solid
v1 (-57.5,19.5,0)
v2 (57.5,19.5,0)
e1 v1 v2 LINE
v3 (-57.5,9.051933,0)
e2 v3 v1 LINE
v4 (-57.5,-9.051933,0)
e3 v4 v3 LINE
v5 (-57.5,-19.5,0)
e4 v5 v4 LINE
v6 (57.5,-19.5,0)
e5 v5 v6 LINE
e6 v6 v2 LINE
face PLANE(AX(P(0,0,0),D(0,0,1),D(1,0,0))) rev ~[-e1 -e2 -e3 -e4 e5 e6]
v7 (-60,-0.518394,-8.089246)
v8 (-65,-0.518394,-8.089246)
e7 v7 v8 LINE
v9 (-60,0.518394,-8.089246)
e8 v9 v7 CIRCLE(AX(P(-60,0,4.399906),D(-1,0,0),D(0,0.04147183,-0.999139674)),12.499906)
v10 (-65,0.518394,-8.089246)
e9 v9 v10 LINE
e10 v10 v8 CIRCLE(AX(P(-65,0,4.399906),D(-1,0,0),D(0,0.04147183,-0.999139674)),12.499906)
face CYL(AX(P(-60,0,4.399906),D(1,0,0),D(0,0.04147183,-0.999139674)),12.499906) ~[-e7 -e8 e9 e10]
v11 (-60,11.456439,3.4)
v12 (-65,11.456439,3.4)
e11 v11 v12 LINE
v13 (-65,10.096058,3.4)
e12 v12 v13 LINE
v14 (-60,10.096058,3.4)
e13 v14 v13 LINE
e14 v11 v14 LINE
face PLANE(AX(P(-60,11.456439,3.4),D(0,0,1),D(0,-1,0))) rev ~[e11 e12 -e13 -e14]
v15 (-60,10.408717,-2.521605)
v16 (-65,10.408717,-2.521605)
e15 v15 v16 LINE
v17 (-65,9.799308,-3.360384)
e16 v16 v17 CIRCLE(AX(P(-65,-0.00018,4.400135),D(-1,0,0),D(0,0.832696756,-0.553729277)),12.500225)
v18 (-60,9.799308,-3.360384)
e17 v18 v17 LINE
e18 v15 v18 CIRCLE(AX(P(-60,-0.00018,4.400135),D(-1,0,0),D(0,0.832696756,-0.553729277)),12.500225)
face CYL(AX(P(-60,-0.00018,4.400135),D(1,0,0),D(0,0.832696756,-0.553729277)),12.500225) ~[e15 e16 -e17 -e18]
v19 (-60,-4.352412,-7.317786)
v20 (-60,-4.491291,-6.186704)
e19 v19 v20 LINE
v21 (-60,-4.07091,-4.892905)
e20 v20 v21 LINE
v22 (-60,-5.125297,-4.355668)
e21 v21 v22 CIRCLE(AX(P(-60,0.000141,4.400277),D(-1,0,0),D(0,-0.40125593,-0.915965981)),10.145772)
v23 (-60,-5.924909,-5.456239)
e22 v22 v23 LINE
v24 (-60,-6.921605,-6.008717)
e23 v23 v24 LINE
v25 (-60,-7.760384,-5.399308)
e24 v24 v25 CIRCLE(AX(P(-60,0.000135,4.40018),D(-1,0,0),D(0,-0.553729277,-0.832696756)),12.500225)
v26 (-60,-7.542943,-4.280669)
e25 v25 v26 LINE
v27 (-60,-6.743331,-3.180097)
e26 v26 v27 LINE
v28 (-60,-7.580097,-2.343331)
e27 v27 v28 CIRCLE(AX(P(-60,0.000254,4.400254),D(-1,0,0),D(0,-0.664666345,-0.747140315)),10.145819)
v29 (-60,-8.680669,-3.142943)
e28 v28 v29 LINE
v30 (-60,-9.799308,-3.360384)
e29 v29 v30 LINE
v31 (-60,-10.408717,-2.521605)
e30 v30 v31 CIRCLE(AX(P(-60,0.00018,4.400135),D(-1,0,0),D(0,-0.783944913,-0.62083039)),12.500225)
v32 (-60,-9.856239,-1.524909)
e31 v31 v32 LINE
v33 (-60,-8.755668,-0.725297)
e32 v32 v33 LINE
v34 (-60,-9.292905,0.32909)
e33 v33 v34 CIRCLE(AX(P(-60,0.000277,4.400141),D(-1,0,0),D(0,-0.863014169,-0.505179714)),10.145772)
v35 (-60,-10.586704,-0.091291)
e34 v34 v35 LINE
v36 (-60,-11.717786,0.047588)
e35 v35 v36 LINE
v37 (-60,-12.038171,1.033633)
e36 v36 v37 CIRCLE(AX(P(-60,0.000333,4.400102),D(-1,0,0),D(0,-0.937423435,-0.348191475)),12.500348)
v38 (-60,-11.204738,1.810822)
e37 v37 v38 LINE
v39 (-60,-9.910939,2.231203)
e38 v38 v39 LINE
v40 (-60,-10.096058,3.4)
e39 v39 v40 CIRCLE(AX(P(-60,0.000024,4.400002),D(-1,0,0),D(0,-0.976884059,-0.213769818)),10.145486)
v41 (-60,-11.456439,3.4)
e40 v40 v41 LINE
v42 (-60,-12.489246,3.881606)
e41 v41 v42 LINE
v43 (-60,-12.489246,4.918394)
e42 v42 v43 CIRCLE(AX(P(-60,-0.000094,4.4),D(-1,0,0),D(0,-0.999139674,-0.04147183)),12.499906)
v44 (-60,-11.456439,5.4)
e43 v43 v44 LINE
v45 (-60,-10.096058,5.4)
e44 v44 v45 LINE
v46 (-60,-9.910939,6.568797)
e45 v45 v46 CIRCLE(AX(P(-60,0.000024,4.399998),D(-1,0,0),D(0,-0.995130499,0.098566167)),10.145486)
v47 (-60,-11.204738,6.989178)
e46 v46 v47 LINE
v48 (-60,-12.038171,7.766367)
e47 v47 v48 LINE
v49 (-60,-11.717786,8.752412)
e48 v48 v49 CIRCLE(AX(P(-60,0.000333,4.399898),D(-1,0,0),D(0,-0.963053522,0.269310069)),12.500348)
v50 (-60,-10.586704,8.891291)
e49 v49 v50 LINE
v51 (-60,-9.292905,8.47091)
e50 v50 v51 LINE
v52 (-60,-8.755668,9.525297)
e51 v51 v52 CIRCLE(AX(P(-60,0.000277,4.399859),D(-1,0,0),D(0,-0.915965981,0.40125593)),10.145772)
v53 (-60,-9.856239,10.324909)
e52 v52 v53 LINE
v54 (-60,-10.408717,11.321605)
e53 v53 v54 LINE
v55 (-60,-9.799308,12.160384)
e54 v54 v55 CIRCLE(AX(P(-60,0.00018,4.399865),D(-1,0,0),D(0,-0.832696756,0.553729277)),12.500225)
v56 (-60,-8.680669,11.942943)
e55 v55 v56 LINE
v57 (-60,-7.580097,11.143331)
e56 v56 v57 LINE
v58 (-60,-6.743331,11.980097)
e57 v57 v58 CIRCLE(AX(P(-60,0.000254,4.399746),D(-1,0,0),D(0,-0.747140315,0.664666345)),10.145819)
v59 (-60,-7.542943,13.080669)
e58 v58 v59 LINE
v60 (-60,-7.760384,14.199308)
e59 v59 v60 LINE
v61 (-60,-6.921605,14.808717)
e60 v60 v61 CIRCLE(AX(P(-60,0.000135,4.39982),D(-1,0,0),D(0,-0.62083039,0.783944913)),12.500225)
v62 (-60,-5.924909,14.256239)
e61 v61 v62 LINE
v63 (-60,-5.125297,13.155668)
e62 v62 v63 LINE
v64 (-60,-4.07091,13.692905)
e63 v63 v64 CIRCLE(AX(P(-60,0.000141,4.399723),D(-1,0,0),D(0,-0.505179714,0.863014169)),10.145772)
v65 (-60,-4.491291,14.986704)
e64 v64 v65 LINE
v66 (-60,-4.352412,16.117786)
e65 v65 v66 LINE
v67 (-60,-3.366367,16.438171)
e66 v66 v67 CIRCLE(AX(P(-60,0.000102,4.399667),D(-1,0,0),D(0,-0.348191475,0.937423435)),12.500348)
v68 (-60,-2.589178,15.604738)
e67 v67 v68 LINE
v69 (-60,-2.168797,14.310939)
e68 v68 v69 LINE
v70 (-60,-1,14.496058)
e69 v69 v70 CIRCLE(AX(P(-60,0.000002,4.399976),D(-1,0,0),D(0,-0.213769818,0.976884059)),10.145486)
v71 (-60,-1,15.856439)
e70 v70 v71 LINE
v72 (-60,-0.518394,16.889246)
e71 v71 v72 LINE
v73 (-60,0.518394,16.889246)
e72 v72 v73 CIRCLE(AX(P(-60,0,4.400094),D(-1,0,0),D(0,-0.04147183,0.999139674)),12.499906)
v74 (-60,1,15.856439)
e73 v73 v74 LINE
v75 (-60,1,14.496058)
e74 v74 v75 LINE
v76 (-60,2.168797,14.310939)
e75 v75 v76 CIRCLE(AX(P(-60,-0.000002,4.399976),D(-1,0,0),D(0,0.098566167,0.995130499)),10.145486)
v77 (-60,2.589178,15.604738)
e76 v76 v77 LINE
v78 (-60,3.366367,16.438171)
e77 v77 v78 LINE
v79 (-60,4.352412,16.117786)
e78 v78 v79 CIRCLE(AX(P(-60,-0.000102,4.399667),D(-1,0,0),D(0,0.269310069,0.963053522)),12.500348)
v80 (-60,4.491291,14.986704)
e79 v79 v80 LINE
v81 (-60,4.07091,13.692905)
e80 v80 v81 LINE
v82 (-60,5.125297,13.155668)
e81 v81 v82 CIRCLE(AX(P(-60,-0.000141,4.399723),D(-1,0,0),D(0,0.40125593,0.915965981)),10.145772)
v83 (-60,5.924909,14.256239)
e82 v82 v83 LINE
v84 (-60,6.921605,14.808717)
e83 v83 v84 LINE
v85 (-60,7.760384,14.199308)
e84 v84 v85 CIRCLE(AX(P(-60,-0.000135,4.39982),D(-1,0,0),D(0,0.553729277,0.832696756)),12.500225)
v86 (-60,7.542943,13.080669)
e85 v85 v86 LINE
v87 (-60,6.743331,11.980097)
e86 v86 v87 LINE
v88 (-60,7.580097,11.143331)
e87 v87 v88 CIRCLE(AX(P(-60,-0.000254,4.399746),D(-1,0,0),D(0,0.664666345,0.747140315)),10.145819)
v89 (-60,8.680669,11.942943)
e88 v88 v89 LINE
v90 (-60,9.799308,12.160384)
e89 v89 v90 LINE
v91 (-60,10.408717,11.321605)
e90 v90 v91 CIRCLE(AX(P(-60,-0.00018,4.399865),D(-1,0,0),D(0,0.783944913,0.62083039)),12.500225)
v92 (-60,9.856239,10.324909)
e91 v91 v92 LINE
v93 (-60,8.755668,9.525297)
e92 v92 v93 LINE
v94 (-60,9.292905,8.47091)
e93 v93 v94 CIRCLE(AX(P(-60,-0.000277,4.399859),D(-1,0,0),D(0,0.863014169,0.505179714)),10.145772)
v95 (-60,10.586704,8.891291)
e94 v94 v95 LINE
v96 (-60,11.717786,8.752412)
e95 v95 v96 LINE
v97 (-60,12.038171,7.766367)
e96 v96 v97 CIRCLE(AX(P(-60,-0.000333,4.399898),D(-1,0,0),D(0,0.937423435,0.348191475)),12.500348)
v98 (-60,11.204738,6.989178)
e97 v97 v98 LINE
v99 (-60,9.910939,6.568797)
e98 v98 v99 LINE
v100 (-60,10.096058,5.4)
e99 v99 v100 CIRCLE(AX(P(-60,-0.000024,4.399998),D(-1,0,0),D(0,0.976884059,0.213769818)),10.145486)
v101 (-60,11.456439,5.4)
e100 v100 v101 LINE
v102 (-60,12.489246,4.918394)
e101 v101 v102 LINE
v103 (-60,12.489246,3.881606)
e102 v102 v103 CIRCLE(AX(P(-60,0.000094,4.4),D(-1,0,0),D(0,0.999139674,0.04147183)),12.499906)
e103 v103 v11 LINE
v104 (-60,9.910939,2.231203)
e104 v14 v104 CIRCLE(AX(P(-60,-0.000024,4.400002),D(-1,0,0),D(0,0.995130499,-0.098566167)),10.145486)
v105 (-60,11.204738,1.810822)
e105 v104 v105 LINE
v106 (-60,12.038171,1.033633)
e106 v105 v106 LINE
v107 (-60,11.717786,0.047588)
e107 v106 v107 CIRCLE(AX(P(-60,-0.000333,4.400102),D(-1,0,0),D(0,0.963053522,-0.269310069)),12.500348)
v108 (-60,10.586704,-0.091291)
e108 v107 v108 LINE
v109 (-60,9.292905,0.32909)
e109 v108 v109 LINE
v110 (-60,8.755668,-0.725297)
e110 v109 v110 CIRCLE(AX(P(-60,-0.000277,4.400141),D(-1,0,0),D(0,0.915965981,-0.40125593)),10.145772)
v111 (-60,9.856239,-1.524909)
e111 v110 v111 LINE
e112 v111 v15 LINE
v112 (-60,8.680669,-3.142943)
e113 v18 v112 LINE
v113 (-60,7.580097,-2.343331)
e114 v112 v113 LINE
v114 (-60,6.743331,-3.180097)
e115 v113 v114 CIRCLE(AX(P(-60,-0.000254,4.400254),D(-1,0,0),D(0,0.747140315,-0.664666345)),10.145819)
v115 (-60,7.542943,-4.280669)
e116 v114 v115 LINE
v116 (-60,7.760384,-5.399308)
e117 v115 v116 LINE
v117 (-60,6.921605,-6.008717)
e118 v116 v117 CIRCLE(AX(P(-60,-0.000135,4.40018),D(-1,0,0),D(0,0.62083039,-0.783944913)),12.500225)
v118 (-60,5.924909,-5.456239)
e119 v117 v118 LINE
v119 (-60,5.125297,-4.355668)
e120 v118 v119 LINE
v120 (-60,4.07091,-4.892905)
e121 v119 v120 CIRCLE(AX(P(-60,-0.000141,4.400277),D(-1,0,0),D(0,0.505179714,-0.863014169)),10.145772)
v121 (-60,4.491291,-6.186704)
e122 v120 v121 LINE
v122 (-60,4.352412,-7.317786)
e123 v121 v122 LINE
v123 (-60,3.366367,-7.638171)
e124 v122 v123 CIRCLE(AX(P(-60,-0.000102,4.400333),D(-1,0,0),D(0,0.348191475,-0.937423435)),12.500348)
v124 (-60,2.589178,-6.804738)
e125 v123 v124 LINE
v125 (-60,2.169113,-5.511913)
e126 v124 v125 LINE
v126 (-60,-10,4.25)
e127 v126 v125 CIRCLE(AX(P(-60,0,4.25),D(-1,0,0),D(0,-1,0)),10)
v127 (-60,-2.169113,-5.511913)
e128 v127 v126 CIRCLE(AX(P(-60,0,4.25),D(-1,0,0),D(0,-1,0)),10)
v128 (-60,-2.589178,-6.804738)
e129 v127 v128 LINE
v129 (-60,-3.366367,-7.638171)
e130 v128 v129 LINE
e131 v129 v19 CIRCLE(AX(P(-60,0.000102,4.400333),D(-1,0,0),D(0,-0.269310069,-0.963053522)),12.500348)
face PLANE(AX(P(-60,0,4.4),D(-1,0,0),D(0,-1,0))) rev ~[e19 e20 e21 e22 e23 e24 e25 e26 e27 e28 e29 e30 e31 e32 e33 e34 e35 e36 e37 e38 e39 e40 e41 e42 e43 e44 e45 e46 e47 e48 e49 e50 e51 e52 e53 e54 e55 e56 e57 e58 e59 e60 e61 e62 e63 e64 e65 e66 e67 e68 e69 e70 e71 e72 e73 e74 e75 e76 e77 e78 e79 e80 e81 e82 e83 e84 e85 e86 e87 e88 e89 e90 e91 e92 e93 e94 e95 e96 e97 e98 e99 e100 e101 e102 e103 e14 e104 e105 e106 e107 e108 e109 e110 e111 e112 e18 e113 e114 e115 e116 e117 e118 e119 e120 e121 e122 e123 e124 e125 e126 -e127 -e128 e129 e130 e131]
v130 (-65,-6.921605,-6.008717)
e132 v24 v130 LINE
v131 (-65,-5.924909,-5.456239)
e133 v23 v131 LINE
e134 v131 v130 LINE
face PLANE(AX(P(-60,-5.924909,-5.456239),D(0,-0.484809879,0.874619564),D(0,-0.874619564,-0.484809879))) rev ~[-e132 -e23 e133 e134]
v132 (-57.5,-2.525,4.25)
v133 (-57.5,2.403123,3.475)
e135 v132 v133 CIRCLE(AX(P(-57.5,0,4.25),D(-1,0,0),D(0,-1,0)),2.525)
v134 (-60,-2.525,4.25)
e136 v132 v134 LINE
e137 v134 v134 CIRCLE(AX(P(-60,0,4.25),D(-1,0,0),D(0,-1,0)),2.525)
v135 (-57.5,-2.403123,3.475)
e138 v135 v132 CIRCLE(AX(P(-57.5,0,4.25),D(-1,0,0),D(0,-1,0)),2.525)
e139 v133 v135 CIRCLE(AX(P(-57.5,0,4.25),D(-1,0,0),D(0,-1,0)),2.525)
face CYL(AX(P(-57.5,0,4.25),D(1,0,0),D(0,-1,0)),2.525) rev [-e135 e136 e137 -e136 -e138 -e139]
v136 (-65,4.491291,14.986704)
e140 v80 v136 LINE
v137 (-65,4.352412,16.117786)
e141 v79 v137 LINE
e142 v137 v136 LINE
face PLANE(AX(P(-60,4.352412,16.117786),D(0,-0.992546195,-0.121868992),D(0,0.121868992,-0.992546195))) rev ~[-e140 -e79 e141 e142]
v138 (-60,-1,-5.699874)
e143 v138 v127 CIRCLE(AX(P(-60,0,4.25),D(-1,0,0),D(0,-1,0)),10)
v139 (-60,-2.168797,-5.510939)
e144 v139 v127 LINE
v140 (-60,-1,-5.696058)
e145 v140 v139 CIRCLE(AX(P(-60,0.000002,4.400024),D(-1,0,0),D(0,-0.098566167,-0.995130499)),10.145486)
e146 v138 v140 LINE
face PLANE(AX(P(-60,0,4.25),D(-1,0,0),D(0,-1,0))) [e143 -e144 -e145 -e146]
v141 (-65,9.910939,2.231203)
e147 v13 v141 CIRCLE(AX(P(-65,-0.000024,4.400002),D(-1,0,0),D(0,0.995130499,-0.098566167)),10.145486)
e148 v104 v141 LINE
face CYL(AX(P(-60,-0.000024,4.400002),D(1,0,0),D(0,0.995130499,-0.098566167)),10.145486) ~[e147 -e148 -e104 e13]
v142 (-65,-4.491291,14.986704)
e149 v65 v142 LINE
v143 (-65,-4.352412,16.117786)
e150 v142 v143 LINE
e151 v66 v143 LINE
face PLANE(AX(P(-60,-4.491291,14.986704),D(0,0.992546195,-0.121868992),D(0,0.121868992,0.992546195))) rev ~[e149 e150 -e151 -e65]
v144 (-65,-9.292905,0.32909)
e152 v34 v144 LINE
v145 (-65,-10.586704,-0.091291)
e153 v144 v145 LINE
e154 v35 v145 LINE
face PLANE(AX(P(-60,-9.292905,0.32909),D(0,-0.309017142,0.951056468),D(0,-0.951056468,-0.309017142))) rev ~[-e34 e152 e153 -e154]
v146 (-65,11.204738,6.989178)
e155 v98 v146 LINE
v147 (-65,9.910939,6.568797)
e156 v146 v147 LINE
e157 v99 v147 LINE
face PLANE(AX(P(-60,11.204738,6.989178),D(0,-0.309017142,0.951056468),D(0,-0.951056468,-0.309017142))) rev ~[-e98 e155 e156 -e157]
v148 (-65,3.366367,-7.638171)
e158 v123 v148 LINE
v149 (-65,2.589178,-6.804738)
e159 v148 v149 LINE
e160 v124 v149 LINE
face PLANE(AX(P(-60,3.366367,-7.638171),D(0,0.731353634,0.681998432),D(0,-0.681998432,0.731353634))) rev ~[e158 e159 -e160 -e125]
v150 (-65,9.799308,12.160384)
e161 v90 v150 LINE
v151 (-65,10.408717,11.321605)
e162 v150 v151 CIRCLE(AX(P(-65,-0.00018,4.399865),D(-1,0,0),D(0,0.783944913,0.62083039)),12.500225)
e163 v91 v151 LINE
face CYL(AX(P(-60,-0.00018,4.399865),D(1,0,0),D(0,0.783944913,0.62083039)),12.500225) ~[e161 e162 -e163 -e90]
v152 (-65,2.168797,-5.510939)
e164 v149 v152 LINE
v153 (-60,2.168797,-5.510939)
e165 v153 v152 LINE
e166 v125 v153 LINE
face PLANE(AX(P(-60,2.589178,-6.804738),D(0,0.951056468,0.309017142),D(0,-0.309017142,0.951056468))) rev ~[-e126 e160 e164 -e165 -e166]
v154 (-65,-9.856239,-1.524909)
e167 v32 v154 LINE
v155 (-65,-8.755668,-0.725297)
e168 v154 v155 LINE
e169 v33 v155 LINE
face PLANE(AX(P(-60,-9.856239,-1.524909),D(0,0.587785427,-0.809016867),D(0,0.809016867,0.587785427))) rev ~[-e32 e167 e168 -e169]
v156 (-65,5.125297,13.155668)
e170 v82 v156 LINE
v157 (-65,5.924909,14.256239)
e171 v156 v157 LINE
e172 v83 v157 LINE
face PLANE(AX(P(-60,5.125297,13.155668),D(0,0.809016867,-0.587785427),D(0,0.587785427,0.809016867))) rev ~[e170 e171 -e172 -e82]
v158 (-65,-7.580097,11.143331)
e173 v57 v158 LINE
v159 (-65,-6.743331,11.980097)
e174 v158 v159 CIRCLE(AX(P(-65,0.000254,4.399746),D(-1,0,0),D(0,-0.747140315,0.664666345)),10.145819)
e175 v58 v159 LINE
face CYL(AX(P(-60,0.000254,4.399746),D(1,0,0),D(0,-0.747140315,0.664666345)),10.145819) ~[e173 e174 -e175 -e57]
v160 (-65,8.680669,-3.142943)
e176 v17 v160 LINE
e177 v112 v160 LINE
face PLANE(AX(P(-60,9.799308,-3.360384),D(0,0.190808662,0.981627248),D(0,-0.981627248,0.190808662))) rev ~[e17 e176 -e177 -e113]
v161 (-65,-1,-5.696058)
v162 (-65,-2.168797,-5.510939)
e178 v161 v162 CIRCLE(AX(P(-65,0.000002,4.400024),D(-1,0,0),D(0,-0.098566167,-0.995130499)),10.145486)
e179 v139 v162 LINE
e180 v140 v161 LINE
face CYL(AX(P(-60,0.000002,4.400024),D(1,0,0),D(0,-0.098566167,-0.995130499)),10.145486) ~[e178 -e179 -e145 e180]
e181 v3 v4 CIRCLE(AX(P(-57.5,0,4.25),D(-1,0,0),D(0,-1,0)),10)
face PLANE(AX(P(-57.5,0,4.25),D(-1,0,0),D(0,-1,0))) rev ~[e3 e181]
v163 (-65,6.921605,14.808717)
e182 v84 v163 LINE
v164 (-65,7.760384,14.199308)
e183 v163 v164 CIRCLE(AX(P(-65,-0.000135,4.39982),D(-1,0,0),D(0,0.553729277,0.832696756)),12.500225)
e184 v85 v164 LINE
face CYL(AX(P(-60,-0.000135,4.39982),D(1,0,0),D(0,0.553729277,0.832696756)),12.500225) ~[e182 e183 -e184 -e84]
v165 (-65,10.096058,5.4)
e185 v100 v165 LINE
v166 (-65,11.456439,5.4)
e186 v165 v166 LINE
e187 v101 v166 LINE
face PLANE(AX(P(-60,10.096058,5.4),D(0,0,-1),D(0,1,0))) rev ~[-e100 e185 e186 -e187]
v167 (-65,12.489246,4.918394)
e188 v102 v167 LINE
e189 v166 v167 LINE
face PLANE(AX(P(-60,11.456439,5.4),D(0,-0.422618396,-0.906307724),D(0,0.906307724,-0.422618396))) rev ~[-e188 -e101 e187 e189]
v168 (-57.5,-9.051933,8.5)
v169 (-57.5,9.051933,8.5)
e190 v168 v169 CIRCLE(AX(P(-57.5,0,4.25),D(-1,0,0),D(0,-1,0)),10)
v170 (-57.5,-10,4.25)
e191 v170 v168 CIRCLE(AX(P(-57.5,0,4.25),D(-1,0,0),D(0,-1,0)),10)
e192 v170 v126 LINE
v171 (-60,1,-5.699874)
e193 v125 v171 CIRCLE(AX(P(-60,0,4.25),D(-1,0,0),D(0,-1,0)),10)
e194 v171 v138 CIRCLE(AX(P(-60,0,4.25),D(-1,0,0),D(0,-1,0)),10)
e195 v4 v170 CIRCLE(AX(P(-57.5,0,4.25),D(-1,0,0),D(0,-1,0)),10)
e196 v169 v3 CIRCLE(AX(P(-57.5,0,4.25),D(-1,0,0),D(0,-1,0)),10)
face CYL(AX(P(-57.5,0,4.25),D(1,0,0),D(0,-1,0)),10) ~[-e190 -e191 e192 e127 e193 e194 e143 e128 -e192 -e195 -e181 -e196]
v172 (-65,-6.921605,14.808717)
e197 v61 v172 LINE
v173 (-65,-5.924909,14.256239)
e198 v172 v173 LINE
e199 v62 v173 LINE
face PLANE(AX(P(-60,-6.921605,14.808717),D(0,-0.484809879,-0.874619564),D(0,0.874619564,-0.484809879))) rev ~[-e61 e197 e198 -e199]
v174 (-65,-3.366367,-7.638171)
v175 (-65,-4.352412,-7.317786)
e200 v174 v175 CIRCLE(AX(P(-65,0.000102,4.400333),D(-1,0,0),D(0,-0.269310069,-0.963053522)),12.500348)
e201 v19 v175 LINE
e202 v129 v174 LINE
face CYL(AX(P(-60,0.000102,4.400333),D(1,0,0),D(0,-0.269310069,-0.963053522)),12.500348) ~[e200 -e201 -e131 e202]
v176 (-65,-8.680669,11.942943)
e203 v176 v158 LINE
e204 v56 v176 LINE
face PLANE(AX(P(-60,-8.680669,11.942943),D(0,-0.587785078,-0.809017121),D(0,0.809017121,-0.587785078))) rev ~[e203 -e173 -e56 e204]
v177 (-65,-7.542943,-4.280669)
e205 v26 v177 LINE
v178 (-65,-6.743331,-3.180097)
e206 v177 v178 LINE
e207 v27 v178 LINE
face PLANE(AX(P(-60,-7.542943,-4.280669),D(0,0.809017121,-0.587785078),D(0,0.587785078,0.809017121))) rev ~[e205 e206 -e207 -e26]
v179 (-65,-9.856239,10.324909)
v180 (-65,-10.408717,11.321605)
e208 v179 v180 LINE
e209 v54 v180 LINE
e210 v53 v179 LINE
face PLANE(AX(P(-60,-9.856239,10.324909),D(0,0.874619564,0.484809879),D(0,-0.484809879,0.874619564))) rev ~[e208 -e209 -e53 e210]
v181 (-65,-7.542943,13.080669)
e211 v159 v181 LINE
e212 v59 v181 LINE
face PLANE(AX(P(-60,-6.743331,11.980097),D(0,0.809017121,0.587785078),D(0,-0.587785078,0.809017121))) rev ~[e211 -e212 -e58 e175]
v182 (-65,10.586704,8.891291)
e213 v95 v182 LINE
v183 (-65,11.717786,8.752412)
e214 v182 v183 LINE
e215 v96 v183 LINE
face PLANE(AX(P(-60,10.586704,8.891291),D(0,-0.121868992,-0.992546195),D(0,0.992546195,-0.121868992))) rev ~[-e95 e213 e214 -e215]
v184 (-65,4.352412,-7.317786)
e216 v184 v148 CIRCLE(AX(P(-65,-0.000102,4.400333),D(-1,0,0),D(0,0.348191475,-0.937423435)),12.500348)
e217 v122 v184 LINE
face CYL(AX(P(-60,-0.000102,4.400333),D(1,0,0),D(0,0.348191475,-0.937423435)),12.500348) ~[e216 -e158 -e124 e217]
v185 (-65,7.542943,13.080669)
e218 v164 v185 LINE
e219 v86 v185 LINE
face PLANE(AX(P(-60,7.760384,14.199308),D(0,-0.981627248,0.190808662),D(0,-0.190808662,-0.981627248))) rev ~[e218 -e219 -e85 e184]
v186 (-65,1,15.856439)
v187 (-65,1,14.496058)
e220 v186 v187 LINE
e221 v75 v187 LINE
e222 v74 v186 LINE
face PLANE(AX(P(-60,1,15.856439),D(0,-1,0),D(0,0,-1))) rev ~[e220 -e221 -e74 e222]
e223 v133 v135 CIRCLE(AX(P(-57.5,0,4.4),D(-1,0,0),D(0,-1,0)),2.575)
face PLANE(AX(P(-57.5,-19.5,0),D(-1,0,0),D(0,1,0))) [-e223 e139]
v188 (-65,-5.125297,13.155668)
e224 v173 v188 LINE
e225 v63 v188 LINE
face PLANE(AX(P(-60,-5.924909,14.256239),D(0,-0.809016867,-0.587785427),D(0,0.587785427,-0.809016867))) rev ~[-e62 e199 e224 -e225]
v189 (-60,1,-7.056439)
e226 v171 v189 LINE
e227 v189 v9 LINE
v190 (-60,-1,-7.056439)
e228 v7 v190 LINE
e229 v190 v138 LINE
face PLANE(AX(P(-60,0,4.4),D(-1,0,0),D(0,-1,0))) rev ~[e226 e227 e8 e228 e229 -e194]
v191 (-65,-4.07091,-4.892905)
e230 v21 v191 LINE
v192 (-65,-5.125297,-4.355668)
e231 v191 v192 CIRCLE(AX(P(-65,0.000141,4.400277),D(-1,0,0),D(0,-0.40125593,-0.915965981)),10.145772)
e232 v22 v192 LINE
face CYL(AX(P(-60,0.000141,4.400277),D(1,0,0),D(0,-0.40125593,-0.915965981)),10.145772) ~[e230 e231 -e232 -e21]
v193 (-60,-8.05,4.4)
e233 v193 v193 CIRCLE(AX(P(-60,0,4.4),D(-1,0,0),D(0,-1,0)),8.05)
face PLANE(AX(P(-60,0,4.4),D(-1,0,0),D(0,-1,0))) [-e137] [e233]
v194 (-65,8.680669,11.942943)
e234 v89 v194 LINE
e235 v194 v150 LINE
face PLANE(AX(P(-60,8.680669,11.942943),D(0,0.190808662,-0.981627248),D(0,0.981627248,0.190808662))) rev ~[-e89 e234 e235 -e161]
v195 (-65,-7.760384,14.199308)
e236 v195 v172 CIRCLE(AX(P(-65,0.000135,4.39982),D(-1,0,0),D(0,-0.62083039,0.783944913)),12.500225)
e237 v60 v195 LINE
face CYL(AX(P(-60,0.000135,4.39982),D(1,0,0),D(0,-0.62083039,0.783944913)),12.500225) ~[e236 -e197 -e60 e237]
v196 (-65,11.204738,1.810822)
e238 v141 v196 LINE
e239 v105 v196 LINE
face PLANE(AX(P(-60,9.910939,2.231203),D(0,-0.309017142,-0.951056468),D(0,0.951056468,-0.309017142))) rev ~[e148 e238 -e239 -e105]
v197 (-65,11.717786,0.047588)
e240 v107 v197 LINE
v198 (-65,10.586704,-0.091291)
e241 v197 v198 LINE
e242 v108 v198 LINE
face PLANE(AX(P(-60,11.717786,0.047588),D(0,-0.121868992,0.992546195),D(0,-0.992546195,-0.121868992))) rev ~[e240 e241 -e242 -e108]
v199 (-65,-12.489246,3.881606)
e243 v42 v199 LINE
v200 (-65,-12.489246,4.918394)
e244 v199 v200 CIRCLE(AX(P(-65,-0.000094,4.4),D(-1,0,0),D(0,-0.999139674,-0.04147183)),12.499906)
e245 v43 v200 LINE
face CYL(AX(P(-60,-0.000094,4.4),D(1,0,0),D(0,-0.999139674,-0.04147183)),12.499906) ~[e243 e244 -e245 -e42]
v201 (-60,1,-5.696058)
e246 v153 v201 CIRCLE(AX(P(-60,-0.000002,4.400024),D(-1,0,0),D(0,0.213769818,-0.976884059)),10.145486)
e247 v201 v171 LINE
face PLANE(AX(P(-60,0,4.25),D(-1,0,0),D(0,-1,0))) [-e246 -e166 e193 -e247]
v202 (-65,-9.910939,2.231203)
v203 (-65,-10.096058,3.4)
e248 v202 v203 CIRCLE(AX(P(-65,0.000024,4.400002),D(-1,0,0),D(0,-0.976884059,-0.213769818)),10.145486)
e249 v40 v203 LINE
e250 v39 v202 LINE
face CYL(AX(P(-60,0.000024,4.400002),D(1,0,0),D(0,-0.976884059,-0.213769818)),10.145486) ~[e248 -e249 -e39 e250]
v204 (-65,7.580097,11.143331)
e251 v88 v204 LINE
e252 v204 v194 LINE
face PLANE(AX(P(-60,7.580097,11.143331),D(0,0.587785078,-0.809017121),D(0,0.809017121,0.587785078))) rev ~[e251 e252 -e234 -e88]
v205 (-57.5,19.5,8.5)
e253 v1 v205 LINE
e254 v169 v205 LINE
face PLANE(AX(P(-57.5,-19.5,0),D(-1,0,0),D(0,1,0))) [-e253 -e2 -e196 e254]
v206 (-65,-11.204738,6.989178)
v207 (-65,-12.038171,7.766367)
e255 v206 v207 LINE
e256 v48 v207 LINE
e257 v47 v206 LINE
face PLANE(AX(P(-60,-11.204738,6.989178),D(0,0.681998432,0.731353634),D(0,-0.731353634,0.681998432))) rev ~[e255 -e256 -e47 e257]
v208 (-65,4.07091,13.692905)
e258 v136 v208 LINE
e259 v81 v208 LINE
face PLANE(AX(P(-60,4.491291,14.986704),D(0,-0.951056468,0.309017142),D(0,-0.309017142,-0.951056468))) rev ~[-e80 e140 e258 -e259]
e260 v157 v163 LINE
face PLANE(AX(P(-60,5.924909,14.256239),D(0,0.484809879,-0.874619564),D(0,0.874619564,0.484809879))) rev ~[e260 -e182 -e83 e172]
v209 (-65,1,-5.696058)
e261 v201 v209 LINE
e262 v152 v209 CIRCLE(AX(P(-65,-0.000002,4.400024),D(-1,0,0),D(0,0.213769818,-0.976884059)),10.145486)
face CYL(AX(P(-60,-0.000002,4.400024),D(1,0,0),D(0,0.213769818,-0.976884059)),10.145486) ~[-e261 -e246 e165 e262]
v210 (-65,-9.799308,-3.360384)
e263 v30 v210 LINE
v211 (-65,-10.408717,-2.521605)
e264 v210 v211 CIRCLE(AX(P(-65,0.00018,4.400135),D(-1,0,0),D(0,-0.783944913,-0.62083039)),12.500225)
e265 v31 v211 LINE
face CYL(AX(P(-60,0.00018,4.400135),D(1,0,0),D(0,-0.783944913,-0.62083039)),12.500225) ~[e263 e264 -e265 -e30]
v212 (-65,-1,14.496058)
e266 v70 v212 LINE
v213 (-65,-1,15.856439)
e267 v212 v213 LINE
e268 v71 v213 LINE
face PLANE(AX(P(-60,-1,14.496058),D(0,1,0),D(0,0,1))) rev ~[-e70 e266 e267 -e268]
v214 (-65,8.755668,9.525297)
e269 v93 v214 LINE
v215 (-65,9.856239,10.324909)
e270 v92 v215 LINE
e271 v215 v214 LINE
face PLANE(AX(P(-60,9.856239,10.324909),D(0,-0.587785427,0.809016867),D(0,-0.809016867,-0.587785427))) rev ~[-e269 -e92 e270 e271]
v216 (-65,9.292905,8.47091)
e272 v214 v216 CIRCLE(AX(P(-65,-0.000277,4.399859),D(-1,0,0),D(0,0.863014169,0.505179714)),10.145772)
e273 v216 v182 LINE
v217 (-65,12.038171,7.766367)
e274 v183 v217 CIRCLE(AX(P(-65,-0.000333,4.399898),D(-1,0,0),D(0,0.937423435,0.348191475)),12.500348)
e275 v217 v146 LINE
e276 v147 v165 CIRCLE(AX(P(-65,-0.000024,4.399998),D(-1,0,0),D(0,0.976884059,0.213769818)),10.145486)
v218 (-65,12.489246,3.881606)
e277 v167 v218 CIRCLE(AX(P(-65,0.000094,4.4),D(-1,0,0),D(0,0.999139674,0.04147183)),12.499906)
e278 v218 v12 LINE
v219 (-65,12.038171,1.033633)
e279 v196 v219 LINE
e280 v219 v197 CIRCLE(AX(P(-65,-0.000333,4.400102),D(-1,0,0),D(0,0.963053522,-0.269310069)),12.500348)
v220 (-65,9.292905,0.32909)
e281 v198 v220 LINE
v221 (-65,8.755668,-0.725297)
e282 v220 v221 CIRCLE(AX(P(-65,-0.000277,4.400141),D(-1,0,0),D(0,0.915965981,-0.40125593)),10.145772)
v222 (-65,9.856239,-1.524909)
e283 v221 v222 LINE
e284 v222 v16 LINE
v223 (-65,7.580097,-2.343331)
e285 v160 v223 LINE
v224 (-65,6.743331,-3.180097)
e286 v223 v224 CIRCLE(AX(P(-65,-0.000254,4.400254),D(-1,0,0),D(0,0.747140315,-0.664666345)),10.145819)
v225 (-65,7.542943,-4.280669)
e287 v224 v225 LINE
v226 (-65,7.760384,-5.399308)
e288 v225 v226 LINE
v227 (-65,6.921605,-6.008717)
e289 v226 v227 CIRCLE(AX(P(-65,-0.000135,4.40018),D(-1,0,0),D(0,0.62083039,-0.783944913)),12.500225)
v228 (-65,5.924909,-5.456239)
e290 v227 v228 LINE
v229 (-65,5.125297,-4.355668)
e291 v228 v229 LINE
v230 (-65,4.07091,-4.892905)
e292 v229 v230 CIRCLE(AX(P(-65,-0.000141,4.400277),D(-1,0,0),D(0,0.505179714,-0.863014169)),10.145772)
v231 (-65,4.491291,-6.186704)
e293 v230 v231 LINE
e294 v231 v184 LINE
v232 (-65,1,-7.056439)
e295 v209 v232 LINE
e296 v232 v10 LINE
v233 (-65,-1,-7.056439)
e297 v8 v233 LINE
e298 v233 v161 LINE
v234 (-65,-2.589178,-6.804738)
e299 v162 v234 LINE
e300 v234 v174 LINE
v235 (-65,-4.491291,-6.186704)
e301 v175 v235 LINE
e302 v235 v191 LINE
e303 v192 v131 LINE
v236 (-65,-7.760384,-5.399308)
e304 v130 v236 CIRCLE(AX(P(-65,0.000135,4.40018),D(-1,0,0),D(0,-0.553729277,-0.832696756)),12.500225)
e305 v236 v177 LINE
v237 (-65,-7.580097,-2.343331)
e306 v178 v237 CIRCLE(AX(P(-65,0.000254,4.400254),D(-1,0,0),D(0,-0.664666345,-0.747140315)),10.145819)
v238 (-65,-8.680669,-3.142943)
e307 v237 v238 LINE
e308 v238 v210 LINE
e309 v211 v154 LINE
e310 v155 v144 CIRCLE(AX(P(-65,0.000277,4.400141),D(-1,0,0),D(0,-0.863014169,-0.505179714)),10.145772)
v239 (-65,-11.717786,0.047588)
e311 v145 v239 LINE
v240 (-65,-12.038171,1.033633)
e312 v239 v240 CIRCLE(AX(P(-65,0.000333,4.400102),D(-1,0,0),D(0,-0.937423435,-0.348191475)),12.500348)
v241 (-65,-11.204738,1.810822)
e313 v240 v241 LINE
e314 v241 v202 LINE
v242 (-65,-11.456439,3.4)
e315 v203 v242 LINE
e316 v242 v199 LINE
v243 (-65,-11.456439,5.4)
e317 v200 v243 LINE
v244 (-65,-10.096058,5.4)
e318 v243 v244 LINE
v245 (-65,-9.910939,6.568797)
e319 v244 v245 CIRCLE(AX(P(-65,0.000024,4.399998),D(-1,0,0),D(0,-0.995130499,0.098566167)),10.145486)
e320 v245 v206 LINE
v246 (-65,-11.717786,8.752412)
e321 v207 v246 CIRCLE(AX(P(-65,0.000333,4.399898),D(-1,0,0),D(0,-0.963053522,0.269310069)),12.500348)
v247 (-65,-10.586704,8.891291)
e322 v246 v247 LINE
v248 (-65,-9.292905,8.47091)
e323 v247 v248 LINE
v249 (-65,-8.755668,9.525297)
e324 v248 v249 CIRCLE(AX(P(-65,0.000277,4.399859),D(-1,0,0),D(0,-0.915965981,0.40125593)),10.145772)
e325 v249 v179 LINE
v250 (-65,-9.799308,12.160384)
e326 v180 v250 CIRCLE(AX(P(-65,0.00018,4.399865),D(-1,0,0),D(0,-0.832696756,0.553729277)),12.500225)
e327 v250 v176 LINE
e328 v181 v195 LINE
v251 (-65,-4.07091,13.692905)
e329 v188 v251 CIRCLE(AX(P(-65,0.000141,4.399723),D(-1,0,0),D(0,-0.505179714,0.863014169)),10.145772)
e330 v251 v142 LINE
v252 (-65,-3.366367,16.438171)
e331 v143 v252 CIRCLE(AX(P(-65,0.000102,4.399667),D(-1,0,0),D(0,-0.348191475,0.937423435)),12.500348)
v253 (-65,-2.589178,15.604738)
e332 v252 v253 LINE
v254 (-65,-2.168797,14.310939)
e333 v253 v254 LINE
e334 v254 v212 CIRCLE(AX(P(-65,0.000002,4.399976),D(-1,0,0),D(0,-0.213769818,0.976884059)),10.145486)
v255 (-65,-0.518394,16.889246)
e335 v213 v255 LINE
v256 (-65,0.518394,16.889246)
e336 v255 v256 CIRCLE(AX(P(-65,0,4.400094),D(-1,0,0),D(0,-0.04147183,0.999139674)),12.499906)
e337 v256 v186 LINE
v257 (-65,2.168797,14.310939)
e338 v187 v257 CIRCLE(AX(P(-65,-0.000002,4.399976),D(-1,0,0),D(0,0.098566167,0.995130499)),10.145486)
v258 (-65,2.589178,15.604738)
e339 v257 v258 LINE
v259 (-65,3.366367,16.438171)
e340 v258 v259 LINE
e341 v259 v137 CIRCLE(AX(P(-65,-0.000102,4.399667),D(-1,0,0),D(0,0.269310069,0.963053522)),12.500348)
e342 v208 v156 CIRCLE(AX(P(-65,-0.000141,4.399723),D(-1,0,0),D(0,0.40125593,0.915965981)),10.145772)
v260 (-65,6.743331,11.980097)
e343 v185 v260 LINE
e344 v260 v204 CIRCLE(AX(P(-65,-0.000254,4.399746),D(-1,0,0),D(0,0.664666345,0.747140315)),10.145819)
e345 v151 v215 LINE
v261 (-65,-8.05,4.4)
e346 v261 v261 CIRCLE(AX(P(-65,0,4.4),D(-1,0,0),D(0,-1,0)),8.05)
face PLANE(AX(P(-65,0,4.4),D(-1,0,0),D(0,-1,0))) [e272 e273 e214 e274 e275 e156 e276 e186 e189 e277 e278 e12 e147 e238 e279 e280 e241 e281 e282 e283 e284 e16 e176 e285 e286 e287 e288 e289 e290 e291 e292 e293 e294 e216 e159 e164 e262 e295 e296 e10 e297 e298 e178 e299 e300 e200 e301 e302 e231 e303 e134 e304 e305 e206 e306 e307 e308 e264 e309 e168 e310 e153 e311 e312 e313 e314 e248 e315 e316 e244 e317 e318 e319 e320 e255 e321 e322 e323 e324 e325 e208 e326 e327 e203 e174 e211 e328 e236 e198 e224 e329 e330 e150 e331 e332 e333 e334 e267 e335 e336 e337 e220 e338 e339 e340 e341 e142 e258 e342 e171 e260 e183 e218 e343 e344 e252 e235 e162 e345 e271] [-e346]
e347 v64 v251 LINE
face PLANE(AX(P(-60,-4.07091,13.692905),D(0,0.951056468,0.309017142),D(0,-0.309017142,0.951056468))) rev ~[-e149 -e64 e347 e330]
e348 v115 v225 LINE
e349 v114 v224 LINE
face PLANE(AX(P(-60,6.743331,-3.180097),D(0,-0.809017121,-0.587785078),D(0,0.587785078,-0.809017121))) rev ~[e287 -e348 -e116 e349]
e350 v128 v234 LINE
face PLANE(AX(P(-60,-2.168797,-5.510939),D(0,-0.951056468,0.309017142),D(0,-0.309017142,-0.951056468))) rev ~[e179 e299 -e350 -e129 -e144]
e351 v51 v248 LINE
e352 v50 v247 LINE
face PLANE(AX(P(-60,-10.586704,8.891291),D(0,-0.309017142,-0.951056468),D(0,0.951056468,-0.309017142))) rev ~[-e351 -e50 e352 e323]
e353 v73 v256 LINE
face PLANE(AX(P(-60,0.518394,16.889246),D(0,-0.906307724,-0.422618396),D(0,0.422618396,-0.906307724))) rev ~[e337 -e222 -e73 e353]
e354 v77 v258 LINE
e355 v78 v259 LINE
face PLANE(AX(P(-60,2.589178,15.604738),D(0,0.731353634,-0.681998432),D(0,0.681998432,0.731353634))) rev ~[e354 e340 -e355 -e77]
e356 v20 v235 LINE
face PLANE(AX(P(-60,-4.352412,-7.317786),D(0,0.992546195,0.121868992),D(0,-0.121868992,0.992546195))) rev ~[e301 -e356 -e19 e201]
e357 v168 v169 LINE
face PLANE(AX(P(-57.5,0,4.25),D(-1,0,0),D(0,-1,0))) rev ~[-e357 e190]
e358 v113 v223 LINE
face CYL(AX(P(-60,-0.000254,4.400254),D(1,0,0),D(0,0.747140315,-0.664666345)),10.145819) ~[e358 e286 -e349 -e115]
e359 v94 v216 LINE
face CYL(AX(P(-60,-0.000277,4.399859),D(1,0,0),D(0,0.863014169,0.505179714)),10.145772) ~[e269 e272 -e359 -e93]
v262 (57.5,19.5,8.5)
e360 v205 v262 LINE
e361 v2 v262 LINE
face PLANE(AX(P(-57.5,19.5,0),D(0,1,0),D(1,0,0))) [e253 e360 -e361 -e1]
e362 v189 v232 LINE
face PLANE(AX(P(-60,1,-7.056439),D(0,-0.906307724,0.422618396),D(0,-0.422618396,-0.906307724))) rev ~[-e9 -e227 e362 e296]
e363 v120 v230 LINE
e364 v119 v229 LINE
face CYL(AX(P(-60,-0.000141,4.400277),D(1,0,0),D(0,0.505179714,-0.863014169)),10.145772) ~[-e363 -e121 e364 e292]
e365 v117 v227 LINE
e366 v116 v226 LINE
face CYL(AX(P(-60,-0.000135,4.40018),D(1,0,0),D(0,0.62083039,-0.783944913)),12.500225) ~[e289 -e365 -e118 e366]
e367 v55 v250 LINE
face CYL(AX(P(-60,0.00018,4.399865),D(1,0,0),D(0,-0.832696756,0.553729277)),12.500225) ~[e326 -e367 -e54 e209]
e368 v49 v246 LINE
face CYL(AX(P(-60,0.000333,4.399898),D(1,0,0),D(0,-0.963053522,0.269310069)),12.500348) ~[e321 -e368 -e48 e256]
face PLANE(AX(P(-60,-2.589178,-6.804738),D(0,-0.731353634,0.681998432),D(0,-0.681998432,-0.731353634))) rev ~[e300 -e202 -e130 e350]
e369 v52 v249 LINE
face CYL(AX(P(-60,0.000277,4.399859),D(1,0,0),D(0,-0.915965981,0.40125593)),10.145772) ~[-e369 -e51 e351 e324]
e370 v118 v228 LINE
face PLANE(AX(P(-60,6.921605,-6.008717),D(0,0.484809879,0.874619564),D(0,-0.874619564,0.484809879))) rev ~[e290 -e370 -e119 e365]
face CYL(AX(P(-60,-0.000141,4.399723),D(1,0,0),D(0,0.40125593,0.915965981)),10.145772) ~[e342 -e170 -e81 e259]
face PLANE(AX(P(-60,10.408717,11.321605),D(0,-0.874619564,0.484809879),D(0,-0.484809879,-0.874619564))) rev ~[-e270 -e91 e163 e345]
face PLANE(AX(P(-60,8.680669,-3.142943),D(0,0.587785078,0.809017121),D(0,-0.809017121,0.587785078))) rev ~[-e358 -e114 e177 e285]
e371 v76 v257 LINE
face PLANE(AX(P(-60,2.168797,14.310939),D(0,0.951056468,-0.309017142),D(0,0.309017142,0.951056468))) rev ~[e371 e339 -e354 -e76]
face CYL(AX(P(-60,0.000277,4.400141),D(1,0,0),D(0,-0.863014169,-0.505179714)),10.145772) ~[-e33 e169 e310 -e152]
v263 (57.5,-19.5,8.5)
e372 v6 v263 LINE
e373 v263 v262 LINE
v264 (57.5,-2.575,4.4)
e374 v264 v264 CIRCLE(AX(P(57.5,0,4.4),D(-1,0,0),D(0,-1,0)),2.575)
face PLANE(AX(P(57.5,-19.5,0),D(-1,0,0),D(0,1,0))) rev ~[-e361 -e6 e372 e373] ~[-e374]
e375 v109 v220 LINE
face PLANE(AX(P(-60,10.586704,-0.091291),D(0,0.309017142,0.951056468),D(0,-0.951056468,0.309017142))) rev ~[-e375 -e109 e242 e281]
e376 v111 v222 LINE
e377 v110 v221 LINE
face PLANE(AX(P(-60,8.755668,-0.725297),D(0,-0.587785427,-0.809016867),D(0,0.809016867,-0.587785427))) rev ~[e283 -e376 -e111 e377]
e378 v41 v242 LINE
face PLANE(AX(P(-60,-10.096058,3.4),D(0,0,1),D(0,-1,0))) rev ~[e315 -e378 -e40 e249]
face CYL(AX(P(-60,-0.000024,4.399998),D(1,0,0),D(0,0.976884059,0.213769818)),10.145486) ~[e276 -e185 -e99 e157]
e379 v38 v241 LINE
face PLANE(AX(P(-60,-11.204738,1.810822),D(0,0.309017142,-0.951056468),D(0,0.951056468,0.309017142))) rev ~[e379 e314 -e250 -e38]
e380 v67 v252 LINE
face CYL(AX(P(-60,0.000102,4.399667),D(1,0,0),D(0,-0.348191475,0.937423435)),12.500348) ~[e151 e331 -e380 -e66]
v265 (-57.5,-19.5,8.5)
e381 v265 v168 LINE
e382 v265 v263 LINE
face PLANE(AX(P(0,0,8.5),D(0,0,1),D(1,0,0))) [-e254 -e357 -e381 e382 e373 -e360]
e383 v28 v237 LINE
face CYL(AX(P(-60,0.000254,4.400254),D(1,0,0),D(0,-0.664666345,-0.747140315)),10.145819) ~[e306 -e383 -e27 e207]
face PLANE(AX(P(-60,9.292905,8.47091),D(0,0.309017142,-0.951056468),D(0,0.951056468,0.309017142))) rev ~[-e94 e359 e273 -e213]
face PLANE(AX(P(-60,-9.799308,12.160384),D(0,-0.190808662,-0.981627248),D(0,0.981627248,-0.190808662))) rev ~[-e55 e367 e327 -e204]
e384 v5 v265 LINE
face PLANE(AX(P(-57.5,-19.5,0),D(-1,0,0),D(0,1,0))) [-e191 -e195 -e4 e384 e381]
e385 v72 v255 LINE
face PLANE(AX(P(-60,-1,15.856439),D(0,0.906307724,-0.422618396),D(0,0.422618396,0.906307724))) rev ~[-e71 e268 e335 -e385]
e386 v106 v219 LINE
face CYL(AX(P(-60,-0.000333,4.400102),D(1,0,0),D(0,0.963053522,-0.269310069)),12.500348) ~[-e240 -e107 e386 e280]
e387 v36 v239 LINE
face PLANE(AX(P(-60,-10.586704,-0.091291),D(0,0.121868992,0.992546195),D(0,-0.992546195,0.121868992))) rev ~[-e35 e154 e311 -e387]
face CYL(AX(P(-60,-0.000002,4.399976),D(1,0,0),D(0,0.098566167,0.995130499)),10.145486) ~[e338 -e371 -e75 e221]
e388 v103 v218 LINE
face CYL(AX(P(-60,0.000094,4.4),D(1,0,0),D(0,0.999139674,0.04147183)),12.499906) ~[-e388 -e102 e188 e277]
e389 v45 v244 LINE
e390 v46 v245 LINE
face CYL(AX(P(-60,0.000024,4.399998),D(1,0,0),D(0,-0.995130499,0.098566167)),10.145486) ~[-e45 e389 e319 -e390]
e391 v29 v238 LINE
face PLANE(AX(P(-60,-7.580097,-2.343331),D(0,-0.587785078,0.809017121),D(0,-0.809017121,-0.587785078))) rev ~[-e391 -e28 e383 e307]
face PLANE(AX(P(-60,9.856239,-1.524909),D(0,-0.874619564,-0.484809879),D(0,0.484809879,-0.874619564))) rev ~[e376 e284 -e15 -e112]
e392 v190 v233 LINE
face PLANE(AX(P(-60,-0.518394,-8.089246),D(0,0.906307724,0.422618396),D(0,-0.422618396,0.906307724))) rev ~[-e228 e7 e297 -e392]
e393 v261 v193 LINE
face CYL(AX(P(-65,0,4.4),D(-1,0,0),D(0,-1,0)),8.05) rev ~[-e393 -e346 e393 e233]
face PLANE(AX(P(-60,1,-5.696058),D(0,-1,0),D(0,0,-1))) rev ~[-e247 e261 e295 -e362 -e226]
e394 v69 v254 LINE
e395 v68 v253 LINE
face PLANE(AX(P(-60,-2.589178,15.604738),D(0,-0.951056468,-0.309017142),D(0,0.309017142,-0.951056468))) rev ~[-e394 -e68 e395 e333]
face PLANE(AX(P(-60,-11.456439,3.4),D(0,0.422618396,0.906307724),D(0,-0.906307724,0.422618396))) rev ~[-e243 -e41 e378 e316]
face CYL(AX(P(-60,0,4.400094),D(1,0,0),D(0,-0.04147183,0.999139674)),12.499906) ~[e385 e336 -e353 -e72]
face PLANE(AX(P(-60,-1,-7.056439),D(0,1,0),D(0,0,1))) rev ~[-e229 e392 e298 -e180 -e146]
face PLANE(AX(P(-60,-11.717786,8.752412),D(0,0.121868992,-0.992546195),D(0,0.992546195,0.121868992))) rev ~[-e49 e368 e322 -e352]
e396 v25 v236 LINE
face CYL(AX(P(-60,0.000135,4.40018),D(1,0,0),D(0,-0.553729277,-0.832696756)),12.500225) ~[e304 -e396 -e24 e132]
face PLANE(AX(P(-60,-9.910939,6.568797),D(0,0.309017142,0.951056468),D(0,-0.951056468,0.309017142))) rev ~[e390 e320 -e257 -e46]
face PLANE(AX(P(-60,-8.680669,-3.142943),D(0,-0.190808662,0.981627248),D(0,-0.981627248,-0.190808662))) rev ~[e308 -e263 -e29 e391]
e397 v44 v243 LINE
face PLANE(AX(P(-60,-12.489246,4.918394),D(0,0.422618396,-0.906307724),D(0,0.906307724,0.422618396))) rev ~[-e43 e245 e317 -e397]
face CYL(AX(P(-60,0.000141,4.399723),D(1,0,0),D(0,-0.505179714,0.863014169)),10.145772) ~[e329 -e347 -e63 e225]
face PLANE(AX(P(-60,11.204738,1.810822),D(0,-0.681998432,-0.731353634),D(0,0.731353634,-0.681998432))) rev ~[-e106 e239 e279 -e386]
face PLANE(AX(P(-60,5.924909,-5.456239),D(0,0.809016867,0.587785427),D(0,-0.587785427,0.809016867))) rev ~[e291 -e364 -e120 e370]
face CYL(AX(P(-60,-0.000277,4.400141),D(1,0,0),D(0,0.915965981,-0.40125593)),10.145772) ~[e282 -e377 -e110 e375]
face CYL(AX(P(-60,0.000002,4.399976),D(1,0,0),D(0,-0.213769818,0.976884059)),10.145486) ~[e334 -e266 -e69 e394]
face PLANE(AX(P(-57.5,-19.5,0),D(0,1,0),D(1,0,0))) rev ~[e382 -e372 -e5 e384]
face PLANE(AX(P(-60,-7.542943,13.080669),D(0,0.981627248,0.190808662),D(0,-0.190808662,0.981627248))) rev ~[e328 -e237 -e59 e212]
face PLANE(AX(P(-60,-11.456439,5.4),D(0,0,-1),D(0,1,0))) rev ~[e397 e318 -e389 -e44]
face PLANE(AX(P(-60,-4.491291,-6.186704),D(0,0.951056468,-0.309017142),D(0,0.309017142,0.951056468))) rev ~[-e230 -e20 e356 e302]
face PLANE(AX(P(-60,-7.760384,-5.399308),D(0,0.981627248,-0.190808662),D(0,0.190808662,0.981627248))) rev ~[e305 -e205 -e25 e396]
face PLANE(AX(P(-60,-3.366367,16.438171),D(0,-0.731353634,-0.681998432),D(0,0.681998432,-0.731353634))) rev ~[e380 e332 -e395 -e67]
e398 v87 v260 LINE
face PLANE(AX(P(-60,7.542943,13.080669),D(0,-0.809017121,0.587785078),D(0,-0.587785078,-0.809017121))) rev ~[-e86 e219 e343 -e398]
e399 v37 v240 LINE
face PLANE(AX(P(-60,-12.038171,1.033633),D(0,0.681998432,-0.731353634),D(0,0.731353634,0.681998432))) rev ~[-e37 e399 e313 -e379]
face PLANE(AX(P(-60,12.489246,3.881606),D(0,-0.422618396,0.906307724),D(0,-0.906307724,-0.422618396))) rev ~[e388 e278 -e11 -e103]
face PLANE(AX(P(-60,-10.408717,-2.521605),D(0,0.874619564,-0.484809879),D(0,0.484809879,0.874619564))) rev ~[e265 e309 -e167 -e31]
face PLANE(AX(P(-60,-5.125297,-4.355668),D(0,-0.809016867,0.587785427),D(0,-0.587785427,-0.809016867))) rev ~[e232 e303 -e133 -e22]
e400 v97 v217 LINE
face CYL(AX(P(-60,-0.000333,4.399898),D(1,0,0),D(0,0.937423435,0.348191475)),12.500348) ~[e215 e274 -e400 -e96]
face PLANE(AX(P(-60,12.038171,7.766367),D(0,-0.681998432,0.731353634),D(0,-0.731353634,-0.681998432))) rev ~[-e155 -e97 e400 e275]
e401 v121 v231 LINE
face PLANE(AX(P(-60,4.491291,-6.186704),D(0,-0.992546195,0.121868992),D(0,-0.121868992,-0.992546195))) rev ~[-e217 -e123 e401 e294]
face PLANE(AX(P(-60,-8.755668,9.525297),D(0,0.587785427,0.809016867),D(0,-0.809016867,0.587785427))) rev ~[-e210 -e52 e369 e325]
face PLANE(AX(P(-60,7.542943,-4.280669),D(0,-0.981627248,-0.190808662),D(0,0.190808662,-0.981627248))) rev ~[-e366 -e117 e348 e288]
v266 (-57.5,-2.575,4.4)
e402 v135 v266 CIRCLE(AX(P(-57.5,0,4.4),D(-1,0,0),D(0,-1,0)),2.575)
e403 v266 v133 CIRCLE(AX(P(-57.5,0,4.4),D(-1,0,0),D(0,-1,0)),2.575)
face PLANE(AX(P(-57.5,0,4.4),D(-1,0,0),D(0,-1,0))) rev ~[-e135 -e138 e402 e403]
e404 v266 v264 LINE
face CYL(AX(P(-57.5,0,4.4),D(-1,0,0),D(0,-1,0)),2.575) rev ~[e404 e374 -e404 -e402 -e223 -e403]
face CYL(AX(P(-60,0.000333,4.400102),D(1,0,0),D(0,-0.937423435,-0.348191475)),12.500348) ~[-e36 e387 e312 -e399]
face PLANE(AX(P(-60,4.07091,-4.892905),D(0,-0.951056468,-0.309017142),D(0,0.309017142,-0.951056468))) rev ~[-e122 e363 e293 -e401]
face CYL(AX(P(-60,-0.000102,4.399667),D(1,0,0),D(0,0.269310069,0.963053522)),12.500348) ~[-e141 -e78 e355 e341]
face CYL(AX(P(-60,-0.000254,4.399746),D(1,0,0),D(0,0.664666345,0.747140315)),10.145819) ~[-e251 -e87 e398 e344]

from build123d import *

# Parameters (mm, degrees)
F0_W     = 115
F0_H     = 39
F1_DEPTH = 8.5
F2_R     = 10
F2_R_2   = 2.525
F3_DEPTH = 2.5
F4_R     = 2.575
F5_DEPTH = 115.001
F7_DEPTH = 5
F8_R     = 8.05
F9_DEPTH = 5


with BuildPart() as f1:
    # F0 (on Top) → F1 (new body)
    with BuildSketch(Plane.XY):
        Rectangle(F0_W, F0_H)
    extrude(amount=F1_DEPTH)

    # F2 (on face) → F3 (join)
    with BuildSketch(Plane(origin=(-57.5, 0, 0), x_dir=(0, -1, 0), z_dir=(-1, 0, 0))):
        with Locations((0, 4.25)):
            Circle(F2_R)
        with Locations((0, 4.25)):
            Circle(F2_R_2, mode=Mode.SUBTRACT)
    extrude(amount=F3_DEPTH)

    # F4 (on face) → F5 (cut, through all)
    with BuildSketch(Plane(origin=(-57.5, 0, 0), x_dir=(0, -1, 0), z_dir=(-1, 0, 0))):
        with Locations((0, 4.4)):
            Circle(F4_R)
    extrude(amount=-F5_DEPTH, mode=Mode.SUBTRACT)

    # F6 (on face) → F7 (join)
    with BuildSketch(Plane(origin=(-60, 0, 0), x_dir=(0, -1, 0), z_dir=(-1, 0, 0))):
        with BuildLine():
            ThreePointArc((0.518394, 16.889246), (0, 16.9), (-0.518394, 16.889246))
            Line((-0.518394, 16.889246), (-1, 15.856439))
            Line((-1, 15.856439), (-1, 14.496058))
            ThreePointArc((-1, 14.496058), (-1.5871, 14.420554), (-2.168797, 14.310939))
            Line((-2.168797, 14.310939), (-2.589178, 15.604738))
            Line((-2.589178, 15.604738), (-3.366367, 16.438171))
            ThreePointArc((-3.366367, 16.438171), (-3.862712, 16.288206), (-4.352412, 16.117786))
            Line((-4.352412, 16.117786), (-4.491291, 14.986704))
            Line((-4.491291, 14.986704), (-4.07091, 13.692905))
            ThreePointArc((-4.07091, 13.692905), (-4.605943, 13.439672), (-5.125297, 13.155668))
            Line((-5.125297, 13.155668), (-5.924909, 14.256239))
            Line((-5.924909, 14.256239), (-6.921605, 14.808717))
            ThreePointArc((-6.921605, 14.808717), (-7.347316, 14.512712), (-7.760384, 14.199308))
            Line((-7.760384, 14.199308), (-7.542943, 13.080669))
            Line((-7.542943, 13.080669), (-6.743331, 11.980097))
            ThreePointArc((-6.743331, 11.980097), (-7.173924, 11.573924), (-7.580097, 11.143331))
            Line((-7.580097, 11.143331), (-8.680669, 11.942943))
            Line((-8.680669, 11.942943), (-9.799308, 12.160384))
            ThreePointArc((-9.799308, 12.160384), (-10.112712, 11.747316), (-10.408717, 11.321605))
            Line((-10.408717, 11.321605), (-9.856239, 10.324909))
            Line((-9.856239, 10.324909), (-8.755668, 9.525297))
            ThreePointArc((-8.755668, 9.525297), (-9.039672, 9.005943), (-9.292905, 8.47091))
            Line((-9.292905, 8.47091), (-10.586704, 8.891291))
            Line((-10.586704, 8.891291), (-11.717786, 8.752412))
            ThreePointArc((-11.717786, 8.752412), (-11.888206, 8.262712), (-12.038171, 7.766367))
            Line((-12.038171, 7.766367), (-11.204738, 6.989178))
            Line((-11.204738, 6.989178), (-9.910939, 6.568797))
            ThreePointArc((-9.910939, 6.568797), (-10.020554, 5.9871), (-10.096058, 5.4))
            Line((-10.096058, 5.4), (-11.456439, 5.4))
            Line((-11.456439, 5.4), (-12.489246, 4.918394))
            ThreePointArc((-12.489246, 4.918394), (-12.5, 4.4), (-12.489246, 3.881606))
            Line((-12.489246, 3.881606), (-11.456439, 3.4))
            Line((-11.456439, 3.4), (-10.096058, 3.4))
            ThreePointArc((-10.096058, 3.4), (-10.020554, 2.8129), (-9.910939, 2.231203))
            Line((-9.910939, 2.231203), (-11.204738, 1.810822))
            Line((-11.204738, 1.810822), (-12.038171, 1.033633))
            ThreePointArc((-12.038171, 1.033633), (-11.888206, 0.537288), (-11.717786, 0.047588))
            Line((-11.717786, 0.047588), (-10.586704, -0.091291))
            Line((-10.586704, -0.091291), (-9.292905, 0.32909))
            ThreePointArc((-9.292905, 0.32909), (-9.039672, -0.205943), (-8.755668, -0.725297))
            Line((-8.755668, -0.725297), (-9.856239, -1.524909))
            Line((-9.856239, -1.524909), (-10.408717, -2.521605))
            ThreePointArc((-10.408717, -2.521605), (-10.112712, -2.947316), (-9.799308, -3.360384))
            Line((-9.799308, -3.360384), (-8.680669, -3.142943))
            Line((-8.680669, -3.142943), (-7.580097, -2.343331))
            ThreePointArc((-7.580097, -2.343331), (-7.173924, -2.773924), (-6.743331, -3.180097))
            Line((-6.743331, -3.180097), (-7.542943, -4.280669))
            Line((-7.542943, -4.280669), (-7.760384, -5.399308))
            ThreePointArc((-7.760384, -5.399308), (-7.347316, -5.712712), (-6.921605, -6.008717))
            Line((-6.921605, -6.008717), (-5.924909, -5.456239))
            Line((-5.924909, -5.456239), (-5.125297, -4.355668))
            ThreePointArc((-5.125297, -4.355668), (-4.605943, -4.639672), (-4.07091, -4.892905))
            Line((-4.07091, -4.892905), (-4.491291, -6.186704))
            Line((-4.491291, -6.186704), (-4.352412, -7.317786))
            ThreePointArc((-4.352412, -7.317786), (-3.862712, -7.488206), (-3.366367, -7.638171))
            Line((-3.366367, -7.638171), (-2.589178, -6.804738))
            Line((-2.589178, -6.804738), (-2.168797, -5.510939))
            ThreePointArc((-2.168797, -5.510939), (-1.5871, -5.620554), (-1, -5.696058))
            Line((-1, -5.696058), (-1, -7.056439))
            Line((-1, -7.056439), (-0.518394, -8.089246))
            ThreePointArc((-0.518394, -8.089246), (0, -8.1), (0.518394, -8.089246))
            Line((0.518394, -8.089246), (1, -7.056439))
            Line((1, -7.056439), (1, -5.696058))
            ThreePointArc((1, -5.696058), (1.5871, -5.620554), (2.168797, -5.510939))
            Line((2.168797, -5.510939), (2.589178, -6.804738))
            Line((2.589178, -6.804738), (3.366367, -7.638171))
            ThreePointArc((3.366367, -7.638171), (3.862712, -7.488206), (4.352412, -7.317786))
            Line((4.352412, -7.317786), (4.491291, -6.186704))
            Line((4.491291, -6.186704), (4.07091, -4.892905))
            ThreePointArc((4.07091, -4.892905), (4.605943, -4.639672), (5.125297, -4.355668))
            Line((5.125297, -4.355668), (5.924909, -5.456239))
            Line((5.924909, -5.456239), (6.921605, -6.008717))
            ThreePointArc((6.921605, -6.008717), (7.347316, -5.712712), (7.760384, -5.399308))
            Line((7.760384, -5.399308), (7.542943, -4.280669))
            Line((7.542943, -4.280669), (6.743331, -3.180097))
            ThreePointArc((6.743331, -3.180097), (7.173924, -2.773924), (7.580097, -2.343331))
            Line((7.580097, -2.343331), (8.680669, -3.142943))
            Line((8.680669, -3.142943), (9.799308, -3.360384))
            ThreePointArc((9.799308, -3.360384), (10.112712, -2.947316), (10.408717, -2.521605))
            Line((10.408717, -2.521605), (9.856239, -1.524909))
            Line((9.856239, -1.524909), (8.755668, -0.725297))
            ThreePointArc((8.755668, -0.725297), (9.039672, -0.205943), (9.292905, 0.32909))
            Line((9.292905, 0.32909), (10.586704, -0.091291))
            Line((10.586704, -0.091291), (11.717786, 0.047588))
            ThreePointArc((11.717786, 0.047588), (11.888206, 0.537288), (12.038171, 1.033633))
            Line((12.038171, 1.033633), (11.204738, 1.810822))
            Line((11.204738, 1.810822), (9.910939, 2.231203))
            ThreePointArc((9.910939, 2.231203), (10.020554, 2.8129), (10.096058, 3.4))
            Line((10.096058, 3.4), (11.456439, 3.4))
            Line((11.456439, 3.4), (12.489246, 3.881606))
            ThreePointArc((12.489246, 3.881606), (12.5, 4.4), (12.489246, 4.918394))
            Line((12.489246, 4.918394), (11.456439, 5.4))
            Line((11.456439, 5.4), (10.096058, 5.4))
            ThreePointArc((10.096058, 5.4), (10.020554, 5.9871), (9.910939, 6.568797))
            Line((9.910939, 6.568797), (11.204738, 6.989178))
            Line((11.204738, 6.989178), (12.038171, 7.766367))
            ThreePointArc((12.038171, 7.766367), (11.888206, 8.262712), (11.717786, 8.752412))
            Line((11.717786, 8.752412), (10.586704, 8.891291))
            Line((10.586704, 8.891291), (9.292905, 8.47091))
            ThreePointArc((9.292905, 8.47091), (9.039672, 9.005943), (8.755668, 9.525297))
            Line((8.755668, 9.525297), (9.856239, 10.324909))
            Line((9.856239, 10.324909), (10.408717, 11.321605))
            ThreePointArc((10.408717, 11.321605), (10.112712, 11.747316), (9.799308, 12.160384))
            Line((9.799308, 12.160384), (8.680669, 11.942943))
            Line((8.680669, 11.942943), (7.580097, 11.143331))
            ThreePointArc((7.580097, 11.143331), (7.173924, 11.573924), (6.743331, 11.980097))
            Line((6.743331, 11.980097), (7.542943, 13.080669))
            Line((7.542943, 13.080669), (7.760384, 14.199308))
            ThreePointArc((7.760384, 14.199308), (7.347316, 14.512712), (6.921605, 14.808717))
            Line((6.921605, 14.808717), (5.924909, 14.256239))
            Line((5.924909, 14.256239), (5.125297, 13.155668))
            ThreePointArc((5.125297, 13.155668), (4.605943, 13.439672), (4.07091, 13.692905))
            Line((4.07091, 13.692905), (4.491291, 14.986704))
            Line((4.491291, 14.986704), (4.352412, 16.117786))
            ThreePointArc((4.352412, 16.117786), (3.862712, 16.288206), (3.366367, 16.438171))
            Line((3.366367, 16.438171), (2.589178, 15.604738))
            Line((2.589178, 15.604738), (2.168797, 14.310939))
            ThreePointArc((2.168797, 14.310939), (1.5871, 14.420554), (1, 14.496058))
            Line((1, 14.496058), (1, 15.856439))
            Line((1, 15.856439), (0.518394, 16.889246))
        make_face()
    extrude(amount=F7_DEPTH)

    # F8 (on face) → F9 (cut)
    with BuildSketch(Plane(origin=(-65, 0, 0), x_dir=(0, -1, 0), z_dir=(-1, 0, 0))):
        with Locations((0, 4.4)):
            Circle(F8_R)
    extrude(amount=-F9_DEPTH, mode=Mode.SUBTRACT)


solid = f1.part
